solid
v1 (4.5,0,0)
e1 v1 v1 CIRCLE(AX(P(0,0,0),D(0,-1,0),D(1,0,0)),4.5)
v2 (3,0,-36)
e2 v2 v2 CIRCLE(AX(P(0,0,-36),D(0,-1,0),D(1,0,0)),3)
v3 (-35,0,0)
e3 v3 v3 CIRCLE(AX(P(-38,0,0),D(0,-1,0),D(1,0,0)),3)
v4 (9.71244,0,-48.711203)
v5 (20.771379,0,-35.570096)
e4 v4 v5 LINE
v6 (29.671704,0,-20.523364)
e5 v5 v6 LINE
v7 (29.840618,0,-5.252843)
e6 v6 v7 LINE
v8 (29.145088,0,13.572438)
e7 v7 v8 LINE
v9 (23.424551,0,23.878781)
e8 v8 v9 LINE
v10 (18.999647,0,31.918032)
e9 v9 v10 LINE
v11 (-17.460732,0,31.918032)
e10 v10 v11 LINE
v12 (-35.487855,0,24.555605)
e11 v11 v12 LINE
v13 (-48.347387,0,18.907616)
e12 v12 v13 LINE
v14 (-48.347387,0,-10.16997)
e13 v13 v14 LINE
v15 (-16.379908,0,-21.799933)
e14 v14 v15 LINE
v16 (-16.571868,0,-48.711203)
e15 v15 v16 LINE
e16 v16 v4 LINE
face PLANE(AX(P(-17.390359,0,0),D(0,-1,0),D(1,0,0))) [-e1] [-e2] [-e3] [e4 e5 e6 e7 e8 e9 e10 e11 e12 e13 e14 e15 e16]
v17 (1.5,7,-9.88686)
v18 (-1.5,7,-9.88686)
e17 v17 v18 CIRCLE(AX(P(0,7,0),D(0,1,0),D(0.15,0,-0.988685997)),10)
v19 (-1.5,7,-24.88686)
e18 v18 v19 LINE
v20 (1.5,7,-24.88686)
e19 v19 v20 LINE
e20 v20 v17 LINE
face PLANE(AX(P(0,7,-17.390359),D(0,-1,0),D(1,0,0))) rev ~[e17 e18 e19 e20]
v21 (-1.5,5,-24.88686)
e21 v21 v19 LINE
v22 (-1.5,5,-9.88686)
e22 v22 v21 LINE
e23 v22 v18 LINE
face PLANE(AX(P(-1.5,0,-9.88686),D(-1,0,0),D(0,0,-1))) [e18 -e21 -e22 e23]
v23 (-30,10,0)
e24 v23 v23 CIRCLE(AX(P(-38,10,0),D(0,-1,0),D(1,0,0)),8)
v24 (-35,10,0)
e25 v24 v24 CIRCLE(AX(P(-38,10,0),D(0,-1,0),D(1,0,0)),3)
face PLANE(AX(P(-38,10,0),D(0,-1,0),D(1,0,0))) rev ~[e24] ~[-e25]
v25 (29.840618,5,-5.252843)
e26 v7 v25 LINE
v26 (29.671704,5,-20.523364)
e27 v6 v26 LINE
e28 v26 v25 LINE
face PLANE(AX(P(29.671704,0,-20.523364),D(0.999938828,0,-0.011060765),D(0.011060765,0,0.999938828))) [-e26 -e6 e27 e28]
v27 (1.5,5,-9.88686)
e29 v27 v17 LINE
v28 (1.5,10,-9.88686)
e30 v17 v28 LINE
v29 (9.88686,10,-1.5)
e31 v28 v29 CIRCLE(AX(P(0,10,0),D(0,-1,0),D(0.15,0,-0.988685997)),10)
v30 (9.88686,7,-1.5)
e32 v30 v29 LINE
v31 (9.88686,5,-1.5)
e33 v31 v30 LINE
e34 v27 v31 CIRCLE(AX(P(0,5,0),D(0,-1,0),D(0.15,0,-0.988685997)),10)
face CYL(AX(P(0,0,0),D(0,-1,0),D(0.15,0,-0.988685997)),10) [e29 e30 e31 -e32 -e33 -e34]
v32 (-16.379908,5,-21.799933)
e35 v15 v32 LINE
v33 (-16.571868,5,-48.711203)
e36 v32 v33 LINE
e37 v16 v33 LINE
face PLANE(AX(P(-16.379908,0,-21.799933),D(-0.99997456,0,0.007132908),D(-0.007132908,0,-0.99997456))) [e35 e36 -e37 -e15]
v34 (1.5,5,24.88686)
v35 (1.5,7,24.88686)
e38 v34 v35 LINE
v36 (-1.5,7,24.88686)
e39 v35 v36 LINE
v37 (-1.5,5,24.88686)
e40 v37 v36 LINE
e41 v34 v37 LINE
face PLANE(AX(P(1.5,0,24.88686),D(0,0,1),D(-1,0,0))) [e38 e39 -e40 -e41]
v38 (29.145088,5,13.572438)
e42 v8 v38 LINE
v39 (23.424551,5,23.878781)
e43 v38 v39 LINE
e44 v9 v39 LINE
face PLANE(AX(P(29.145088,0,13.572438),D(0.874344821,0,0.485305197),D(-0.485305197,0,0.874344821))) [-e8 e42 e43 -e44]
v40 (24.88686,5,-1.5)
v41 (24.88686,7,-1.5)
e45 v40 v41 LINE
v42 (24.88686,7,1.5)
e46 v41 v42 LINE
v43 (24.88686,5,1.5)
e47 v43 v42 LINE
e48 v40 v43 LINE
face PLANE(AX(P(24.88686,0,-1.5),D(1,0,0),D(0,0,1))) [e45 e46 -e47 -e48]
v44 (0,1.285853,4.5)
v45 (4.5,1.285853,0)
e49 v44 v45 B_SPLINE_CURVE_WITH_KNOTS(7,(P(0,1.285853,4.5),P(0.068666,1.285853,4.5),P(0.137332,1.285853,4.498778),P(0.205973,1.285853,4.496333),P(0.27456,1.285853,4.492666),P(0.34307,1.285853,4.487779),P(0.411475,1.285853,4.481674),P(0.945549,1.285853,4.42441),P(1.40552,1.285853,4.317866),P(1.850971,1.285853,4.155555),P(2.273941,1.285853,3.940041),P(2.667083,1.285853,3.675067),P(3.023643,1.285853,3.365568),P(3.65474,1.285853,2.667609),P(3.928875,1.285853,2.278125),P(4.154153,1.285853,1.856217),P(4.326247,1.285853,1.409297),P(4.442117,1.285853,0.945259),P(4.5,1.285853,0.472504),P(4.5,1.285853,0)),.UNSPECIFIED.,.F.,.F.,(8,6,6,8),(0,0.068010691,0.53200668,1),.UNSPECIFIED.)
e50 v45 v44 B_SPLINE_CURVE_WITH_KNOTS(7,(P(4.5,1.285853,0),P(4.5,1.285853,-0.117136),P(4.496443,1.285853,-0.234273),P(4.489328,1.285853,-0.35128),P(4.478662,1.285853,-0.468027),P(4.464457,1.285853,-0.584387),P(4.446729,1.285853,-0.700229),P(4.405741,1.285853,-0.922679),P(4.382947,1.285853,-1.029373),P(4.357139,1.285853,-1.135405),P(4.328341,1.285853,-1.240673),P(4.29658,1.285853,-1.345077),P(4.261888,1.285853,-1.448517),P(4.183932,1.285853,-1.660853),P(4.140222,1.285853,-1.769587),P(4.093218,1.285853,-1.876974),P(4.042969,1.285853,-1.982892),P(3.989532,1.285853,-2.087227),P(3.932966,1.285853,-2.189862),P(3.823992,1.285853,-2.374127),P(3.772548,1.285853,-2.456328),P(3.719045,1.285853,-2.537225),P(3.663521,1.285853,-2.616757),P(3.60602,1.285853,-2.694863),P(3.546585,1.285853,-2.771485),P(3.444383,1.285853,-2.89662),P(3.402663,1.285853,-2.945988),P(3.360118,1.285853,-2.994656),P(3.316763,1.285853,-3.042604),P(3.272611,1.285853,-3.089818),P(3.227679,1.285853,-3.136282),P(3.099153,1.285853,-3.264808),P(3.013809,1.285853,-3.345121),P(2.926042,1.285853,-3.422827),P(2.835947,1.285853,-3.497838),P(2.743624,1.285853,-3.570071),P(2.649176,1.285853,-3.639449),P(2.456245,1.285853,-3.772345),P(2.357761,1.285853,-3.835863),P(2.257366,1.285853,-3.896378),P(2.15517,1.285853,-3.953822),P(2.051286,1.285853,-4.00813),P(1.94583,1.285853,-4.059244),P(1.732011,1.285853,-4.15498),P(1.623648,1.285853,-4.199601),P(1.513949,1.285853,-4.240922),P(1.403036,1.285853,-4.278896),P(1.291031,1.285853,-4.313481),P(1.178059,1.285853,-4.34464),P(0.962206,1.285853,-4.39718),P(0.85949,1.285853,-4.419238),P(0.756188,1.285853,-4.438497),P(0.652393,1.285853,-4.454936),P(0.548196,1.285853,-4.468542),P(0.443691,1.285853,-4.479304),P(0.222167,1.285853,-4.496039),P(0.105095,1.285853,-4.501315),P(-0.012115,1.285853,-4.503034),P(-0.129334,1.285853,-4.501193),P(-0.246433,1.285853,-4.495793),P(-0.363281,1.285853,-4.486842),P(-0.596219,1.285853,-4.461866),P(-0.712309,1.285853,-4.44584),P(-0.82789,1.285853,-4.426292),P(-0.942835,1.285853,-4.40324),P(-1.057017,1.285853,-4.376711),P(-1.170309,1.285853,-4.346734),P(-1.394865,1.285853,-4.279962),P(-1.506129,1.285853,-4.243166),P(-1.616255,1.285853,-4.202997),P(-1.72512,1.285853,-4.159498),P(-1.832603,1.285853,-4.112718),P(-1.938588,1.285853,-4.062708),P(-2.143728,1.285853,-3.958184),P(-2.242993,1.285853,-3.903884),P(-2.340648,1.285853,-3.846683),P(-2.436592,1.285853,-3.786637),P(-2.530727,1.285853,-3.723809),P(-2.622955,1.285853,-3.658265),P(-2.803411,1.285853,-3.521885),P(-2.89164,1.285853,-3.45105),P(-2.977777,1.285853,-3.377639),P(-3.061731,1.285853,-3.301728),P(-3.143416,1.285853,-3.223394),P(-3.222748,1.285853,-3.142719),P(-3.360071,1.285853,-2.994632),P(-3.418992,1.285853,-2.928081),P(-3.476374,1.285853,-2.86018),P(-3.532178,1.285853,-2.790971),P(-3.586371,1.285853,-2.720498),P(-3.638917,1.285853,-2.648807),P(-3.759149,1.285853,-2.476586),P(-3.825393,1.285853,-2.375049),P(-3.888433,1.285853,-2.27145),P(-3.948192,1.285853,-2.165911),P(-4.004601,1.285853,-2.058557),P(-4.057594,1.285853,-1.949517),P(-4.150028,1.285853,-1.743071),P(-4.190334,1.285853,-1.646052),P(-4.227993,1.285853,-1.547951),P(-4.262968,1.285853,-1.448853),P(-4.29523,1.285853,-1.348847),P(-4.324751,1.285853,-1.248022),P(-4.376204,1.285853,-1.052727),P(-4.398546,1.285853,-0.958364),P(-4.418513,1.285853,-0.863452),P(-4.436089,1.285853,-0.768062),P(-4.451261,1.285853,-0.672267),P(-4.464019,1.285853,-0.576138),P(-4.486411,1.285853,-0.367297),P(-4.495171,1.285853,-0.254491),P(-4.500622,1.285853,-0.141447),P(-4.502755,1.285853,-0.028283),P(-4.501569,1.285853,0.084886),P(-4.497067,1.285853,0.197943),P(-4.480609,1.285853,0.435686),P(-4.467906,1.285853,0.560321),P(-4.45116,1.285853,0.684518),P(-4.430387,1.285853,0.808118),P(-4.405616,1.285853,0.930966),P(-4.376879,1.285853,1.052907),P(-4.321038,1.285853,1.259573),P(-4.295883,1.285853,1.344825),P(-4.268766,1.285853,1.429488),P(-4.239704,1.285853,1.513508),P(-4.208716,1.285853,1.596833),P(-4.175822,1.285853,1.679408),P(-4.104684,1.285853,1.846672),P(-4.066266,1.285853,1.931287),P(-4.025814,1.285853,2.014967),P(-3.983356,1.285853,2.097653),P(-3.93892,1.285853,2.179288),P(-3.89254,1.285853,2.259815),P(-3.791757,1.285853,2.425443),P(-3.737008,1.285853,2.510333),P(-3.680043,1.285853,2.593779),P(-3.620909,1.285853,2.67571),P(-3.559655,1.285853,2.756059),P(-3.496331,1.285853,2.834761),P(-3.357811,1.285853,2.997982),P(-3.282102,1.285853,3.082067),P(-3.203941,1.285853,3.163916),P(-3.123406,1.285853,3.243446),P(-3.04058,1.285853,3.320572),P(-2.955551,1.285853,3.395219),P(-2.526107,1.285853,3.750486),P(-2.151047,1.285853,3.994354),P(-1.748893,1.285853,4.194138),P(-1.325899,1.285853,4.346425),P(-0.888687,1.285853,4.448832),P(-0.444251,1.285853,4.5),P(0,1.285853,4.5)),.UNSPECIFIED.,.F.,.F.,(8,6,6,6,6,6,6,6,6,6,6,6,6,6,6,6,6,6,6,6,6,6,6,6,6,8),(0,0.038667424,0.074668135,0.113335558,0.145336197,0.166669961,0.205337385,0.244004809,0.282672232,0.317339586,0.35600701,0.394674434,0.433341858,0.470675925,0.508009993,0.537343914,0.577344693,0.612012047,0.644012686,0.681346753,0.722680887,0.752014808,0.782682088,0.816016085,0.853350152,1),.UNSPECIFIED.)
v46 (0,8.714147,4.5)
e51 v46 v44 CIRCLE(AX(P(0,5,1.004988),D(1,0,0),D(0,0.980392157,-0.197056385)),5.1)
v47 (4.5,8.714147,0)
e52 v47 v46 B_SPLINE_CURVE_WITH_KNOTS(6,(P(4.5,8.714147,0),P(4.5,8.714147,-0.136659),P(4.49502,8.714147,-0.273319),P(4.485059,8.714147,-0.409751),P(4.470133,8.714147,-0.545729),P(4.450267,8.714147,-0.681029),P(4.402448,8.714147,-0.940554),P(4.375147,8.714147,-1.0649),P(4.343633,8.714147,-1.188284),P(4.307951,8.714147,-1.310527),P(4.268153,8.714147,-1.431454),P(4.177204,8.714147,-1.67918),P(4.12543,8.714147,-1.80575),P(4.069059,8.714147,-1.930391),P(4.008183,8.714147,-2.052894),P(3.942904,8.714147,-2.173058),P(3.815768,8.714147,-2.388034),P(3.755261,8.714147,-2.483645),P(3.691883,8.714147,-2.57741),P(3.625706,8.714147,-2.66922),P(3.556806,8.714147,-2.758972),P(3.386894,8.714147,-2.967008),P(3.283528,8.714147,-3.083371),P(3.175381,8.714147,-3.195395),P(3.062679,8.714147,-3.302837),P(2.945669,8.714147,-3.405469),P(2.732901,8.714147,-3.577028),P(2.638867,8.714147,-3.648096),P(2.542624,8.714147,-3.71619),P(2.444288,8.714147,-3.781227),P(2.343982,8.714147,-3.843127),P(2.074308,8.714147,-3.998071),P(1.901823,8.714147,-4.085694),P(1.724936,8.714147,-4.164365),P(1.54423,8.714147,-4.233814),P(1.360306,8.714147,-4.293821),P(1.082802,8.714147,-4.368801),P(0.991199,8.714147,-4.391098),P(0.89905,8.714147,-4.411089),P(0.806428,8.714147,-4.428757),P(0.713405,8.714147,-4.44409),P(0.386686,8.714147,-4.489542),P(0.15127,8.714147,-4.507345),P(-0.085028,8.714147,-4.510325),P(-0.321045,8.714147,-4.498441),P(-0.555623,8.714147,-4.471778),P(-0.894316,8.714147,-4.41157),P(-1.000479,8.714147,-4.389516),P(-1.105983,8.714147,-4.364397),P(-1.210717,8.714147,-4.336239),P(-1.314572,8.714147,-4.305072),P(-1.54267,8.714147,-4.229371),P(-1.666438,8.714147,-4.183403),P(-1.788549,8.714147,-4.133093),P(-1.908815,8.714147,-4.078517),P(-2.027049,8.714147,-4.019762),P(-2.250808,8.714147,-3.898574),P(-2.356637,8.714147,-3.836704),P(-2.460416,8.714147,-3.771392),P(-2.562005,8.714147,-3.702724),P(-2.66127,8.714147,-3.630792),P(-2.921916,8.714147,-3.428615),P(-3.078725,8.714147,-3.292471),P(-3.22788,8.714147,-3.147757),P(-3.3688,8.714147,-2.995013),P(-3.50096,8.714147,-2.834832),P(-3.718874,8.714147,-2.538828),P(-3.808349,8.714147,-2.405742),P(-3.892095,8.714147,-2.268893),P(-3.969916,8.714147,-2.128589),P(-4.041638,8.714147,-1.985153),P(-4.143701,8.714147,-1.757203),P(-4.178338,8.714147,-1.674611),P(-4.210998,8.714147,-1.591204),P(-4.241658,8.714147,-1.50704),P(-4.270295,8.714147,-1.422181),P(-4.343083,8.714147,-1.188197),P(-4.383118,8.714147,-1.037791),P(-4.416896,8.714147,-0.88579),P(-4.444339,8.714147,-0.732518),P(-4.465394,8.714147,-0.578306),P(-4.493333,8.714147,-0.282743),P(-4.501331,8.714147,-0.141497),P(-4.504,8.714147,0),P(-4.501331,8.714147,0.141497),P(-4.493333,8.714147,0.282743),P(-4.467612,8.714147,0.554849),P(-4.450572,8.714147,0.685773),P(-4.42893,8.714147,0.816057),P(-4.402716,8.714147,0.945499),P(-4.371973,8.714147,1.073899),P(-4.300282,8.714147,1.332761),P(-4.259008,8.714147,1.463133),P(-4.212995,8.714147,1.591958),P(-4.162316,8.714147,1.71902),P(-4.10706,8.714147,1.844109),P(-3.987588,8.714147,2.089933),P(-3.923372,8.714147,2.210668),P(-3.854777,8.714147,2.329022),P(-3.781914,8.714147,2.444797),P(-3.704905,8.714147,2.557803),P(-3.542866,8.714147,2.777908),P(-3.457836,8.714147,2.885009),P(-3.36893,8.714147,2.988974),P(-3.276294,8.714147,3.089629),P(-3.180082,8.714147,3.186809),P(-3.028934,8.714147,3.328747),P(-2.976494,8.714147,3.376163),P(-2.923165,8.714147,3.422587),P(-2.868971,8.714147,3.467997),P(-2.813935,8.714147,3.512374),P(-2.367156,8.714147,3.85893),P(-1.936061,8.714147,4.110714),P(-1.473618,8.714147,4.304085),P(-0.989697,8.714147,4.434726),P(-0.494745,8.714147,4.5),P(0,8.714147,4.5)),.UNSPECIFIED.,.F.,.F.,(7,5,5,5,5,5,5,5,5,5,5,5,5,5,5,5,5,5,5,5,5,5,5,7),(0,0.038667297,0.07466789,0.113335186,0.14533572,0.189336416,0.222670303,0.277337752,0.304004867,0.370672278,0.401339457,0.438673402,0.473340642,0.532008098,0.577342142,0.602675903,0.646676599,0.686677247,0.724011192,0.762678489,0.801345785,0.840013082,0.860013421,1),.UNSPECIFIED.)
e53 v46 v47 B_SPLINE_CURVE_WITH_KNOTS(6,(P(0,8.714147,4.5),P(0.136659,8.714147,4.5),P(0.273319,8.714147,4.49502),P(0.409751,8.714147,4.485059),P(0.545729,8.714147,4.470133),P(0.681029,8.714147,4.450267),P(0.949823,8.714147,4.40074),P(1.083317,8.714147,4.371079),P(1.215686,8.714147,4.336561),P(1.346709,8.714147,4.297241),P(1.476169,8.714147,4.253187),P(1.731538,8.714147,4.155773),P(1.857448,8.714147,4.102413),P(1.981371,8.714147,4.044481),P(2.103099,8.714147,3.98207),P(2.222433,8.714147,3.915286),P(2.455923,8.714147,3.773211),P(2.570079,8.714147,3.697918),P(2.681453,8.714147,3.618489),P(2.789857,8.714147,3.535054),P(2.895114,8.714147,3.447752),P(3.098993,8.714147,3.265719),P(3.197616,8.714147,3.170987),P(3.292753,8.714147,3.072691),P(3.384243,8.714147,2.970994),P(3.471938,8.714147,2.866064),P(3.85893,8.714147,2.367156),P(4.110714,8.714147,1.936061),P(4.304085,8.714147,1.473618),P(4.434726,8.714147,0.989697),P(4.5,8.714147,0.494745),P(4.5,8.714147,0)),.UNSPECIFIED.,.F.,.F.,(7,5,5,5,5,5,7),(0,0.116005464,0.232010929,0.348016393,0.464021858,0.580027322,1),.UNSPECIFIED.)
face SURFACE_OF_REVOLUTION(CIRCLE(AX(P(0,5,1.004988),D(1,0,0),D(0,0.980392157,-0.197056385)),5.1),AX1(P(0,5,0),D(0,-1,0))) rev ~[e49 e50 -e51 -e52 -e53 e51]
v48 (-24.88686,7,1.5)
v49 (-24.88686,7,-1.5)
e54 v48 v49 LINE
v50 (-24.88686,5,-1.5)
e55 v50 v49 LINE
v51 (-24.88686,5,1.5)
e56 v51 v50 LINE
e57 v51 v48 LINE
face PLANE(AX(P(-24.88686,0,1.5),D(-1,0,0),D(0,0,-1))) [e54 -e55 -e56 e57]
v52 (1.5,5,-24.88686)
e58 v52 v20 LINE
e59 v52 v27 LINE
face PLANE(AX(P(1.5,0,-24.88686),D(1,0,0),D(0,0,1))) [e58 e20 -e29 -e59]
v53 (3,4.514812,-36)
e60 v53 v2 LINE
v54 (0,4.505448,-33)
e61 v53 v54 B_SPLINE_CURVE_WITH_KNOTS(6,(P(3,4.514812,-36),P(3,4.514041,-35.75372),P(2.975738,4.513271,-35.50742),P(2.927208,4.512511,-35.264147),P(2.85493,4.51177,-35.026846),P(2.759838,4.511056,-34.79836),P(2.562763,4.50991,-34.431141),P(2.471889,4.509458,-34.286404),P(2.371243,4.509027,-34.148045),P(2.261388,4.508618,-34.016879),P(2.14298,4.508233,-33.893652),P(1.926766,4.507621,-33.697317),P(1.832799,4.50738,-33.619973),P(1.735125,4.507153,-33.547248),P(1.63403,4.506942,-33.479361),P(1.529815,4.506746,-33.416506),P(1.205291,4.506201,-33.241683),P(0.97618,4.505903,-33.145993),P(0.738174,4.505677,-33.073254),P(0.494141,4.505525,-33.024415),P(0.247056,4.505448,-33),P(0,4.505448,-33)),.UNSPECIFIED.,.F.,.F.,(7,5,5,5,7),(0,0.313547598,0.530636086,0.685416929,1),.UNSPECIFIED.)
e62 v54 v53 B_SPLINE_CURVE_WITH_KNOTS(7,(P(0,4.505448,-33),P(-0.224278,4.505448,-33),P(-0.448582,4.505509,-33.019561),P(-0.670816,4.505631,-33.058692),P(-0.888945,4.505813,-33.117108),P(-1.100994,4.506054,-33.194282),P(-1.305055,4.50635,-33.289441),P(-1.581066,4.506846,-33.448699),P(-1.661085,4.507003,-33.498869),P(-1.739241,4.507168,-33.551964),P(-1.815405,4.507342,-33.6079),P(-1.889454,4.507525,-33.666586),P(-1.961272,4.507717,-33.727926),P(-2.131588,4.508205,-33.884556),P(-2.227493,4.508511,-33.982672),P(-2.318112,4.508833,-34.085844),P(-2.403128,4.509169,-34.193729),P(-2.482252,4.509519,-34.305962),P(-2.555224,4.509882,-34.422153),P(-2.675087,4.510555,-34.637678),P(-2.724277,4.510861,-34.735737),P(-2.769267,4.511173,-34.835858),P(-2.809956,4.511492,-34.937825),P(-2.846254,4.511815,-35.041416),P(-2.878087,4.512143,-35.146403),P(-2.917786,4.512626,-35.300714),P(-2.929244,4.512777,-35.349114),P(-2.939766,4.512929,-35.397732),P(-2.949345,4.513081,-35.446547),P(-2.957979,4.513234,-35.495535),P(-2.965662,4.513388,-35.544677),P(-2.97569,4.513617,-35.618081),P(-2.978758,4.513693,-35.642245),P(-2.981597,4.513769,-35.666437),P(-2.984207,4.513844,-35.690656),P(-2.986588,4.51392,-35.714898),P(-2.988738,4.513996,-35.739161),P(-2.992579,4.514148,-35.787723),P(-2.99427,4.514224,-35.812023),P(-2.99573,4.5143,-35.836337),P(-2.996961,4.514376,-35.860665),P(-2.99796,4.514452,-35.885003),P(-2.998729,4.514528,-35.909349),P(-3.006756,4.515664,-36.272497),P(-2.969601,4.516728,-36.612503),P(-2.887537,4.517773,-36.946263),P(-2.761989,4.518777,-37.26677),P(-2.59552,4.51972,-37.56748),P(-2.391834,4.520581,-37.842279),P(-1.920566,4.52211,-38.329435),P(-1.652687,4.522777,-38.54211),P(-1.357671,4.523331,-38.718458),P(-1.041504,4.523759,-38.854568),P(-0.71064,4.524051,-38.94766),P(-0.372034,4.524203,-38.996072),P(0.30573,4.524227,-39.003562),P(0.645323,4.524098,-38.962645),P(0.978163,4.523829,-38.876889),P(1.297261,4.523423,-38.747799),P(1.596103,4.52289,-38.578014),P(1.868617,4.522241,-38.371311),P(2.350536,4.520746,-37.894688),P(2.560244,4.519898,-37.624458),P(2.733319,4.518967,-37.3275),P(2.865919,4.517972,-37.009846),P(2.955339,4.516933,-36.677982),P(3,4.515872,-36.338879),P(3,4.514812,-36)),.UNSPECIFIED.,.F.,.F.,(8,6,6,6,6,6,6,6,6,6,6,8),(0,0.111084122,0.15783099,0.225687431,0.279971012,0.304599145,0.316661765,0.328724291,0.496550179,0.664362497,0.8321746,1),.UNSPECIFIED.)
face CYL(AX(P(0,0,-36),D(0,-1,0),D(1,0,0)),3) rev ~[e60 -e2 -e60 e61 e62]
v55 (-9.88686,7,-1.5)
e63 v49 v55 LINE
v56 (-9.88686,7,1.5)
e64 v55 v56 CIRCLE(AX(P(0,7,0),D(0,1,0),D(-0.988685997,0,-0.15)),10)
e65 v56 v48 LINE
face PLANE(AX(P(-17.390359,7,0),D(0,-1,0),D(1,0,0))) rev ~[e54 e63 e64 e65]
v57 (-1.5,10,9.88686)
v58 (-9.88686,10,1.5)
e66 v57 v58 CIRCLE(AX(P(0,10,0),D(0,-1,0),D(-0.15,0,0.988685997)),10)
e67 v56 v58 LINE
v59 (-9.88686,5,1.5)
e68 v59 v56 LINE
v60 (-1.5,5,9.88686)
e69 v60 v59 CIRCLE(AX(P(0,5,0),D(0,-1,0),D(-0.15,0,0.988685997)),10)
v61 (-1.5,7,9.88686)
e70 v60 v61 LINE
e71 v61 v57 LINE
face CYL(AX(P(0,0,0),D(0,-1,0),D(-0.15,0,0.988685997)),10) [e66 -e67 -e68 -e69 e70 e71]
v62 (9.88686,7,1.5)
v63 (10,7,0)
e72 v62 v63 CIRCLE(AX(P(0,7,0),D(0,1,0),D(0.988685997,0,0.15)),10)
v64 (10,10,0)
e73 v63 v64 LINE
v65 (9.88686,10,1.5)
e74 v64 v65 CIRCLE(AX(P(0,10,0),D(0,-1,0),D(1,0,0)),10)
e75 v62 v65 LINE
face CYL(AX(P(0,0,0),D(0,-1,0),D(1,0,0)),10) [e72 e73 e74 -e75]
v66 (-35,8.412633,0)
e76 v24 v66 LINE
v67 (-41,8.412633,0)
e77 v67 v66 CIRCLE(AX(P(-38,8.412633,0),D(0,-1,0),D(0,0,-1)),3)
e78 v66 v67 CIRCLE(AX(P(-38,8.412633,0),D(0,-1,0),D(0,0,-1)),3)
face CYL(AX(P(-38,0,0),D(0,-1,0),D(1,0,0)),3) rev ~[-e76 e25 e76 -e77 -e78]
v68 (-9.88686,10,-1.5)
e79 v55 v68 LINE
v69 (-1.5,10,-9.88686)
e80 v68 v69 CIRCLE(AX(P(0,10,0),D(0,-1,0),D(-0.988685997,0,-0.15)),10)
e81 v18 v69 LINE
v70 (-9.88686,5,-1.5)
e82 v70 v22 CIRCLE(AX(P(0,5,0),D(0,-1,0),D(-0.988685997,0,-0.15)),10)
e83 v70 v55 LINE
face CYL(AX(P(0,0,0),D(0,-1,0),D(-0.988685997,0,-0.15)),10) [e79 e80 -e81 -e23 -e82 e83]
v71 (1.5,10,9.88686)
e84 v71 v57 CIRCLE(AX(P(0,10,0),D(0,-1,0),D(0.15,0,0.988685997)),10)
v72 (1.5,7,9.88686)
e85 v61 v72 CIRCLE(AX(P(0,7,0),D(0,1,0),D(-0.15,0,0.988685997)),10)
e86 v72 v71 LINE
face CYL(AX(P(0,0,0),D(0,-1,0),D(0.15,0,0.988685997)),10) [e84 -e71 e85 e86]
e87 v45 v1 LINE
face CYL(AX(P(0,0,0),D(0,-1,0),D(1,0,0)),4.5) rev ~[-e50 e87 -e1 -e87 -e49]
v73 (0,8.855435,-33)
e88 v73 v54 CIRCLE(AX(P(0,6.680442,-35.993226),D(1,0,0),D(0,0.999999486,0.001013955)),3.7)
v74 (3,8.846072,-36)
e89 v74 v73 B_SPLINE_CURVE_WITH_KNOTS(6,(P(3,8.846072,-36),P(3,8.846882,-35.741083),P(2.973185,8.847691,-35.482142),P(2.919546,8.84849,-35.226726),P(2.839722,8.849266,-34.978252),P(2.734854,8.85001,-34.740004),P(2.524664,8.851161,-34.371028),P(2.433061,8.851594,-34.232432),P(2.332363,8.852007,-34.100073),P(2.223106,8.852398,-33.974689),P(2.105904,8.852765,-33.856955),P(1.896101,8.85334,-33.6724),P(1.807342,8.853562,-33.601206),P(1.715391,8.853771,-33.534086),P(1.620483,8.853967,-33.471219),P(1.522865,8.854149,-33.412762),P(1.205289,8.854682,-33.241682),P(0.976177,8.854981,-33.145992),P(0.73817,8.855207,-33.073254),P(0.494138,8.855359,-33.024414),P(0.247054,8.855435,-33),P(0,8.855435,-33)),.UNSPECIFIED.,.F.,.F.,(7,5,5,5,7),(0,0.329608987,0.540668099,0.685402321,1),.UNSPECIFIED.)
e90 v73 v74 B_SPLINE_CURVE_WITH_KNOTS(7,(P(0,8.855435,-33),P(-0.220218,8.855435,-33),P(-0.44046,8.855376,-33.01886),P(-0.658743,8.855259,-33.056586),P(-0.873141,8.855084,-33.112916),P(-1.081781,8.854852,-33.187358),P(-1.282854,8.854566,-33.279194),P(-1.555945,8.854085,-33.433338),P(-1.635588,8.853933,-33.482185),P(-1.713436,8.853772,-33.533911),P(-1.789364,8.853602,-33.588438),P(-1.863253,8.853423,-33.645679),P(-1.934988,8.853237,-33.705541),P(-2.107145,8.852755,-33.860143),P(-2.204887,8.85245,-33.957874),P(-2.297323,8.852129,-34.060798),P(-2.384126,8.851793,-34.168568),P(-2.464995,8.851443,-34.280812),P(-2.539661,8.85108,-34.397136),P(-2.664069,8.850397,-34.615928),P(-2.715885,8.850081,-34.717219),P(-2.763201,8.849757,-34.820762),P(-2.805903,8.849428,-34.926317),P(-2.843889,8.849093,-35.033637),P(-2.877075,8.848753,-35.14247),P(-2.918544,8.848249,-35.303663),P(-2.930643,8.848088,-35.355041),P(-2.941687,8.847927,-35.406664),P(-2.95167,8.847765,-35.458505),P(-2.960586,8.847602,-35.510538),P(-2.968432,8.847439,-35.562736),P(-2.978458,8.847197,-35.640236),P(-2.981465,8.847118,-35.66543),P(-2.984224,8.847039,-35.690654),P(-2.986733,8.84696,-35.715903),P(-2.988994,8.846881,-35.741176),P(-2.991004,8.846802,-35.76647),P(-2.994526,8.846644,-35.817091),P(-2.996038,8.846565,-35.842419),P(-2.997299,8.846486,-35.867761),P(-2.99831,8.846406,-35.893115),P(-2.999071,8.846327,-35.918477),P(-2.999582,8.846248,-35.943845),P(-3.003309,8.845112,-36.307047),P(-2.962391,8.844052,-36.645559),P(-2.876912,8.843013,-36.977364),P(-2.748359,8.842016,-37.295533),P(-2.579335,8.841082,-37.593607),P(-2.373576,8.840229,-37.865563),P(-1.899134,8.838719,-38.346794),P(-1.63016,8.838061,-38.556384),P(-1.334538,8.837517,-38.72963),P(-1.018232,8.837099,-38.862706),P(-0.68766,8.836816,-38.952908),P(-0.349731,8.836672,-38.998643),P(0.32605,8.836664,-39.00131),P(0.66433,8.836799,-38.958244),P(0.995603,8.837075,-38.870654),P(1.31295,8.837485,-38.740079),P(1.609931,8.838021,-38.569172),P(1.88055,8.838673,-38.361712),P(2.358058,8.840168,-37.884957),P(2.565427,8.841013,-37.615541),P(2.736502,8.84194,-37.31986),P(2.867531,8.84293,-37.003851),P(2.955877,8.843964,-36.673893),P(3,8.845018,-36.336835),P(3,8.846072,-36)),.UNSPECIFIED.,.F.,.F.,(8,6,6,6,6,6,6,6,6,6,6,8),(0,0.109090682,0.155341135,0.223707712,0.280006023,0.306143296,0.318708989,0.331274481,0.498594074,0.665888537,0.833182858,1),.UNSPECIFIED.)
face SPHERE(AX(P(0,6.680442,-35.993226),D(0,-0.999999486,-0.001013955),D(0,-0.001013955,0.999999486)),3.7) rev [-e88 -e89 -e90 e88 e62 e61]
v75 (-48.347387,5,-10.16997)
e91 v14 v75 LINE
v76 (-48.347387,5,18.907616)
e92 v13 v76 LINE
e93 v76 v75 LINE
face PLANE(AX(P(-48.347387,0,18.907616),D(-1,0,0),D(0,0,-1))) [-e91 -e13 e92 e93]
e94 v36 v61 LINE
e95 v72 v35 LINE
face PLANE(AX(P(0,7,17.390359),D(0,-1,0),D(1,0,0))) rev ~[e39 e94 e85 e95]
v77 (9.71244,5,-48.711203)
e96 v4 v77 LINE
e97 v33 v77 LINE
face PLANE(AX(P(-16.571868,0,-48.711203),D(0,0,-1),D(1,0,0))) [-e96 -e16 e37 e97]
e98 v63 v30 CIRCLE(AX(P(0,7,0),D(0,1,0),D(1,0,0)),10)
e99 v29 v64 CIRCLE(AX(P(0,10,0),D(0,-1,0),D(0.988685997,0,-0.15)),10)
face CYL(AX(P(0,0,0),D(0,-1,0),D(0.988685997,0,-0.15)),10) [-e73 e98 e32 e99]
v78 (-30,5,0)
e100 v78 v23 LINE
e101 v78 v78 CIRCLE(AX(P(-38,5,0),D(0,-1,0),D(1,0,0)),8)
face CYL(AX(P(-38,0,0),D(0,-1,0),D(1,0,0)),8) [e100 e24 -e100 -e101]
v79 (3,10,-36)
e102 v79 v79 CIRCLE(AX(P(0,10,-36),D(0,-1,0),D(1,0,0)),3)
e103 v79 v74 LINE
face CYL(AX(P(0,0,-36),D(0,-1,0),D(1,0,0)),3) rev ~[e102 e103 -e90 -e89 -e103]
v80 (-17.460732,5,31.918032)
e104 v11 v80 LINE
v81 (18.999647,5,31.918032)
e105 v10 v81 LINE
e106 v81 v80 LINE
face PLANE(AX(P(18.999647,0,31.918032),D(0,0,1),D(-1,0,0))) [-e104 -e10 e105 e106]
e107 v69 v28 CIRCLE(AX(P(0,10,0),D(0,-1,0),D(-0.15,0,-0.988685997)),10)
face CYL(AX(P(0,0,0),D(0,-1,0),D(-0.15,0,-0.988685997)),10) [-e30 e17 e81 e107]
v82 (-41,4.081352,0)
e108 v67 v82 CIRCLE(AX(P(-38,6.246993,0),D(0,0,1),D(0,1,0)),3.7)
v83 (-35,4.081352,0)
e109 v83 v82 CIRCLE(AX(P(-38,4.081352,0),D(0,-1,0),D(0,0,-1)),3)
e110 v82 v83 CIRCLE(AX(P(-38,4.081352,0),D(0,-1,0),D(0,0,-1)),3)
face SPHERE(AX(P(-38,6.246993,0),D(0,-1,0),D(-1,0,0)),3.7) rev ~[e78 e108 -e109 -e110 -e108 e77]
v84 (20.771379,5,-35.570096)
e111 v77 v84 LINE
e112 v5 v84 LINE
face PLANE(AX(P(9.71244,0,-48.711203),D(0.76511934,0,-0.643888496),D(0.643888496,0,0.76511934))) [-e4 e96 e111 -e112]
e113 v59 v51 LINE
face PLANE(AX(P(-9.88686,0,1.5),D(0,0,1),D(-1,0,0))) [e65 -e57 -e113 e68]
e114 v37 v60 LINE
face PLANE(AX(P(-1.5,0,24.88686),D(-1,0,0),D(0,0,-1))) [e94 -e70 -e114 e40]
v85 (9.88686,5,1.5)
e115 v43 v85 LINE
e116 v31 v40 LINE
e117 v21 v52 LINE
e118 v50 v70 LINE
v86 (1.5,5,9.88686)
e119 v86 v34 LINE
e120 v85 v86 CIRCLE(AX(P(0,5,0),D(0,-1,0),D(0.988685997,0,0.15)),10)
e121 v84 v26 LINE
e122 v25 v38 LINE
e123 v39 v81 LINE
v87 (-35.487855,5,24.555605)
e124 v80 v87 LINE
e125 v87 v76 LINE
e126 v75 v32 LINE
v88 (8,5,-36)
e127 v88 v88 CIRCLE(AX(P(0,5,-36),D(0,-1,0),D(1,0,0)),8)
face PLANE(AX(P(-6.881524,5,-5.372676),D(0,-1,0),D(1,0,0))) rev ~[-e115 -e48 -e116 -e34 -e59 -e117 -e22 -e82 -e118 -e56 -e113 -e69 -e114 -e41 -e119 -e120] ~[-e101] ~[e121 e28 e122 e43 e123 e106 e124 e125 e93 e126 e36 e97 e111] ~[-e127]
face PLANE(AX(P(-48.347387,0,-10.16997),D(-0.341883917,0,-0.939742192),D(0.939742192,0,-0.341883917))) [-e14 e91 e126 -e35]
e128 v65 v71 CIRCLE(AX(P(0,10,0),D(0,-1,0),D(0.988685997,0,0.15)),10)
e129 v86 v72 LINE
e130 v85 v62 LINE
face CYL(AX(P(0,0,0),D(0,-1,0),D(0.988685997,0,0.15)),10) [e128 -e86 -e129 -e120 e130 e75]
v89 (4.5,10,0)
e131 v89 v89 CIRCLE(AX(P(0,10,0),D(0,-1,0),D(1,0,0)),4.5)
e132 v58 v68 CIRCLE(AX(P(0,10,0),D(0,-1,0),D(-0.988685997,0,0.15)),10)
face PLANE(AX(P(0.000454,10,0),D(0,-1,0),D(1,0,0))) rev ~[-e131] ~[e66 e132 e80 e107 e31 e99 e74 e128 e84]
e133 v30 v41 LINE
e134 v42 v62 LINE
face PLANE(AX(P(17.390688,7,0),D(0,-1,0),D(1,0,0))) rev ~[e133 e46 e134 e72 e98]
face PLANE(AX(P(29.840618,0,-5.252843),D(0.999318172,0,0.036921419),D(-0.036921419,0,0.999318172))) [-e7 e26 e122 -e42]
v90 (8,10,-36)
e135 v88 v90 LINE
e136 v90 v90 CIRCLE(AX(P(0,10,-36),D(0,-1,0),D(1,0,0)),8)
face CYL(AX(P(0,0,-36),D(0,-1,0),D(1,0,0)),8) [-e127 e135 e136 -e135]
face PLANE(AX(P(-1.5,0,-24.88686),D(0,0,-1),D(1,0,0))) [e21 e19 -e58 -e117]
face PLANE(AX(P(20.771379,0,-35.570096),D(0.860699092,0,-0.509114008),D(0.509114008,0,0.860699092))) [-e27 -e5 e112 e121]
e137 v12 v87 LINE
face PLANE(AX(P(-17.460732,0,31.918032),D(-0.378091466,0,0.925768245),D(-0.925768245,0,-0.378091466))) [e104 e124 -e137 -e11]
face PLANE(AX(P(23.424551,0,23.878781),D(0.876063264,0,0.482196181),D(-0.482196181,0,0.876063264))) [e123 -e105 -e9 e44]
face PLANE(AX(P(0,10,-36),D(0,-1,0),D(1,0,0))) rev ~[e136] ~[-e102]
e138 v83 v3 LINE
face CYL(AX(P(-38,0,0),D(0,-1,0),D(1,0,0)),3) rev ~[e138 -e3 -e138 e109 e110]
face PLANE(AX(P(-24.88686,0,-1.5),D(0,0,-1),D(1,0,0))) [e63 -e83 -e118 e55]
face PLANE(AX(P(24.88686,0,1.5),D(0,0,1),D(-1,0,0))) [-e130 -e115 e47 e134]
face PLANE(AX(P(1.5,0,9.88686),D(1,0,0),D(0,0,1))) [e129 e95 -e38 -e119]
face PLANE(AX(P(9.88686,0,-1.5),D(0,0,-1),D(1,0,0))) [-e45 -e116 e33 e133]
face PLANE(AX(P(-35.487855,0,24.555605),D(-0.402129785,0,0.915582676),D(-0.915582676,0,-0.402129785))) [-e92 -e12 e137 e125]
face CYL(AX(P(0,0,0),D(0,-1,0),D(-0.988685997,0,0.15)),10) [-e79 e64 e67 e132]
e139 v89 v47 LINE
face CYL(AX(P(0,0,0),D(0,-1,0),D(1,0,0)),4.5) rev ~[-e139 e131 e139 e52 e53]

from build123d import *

# Parameters (mm, degrees)
F0_R     = 8
F0_R_2   = 4.5
F0_R_3   = 3
F1_DEPTH = 5
F2_DEPTH = 10
F3_DEPTH = 7


with BuildPart() as f1:
    # F0 (on Front) → F1 (new body)
    with BuildSketch(Plane.XZ):
        Polygon((18.9996465826, 31.9180320948), (-17.4607320469, 31.9180320948), (-35.4878548533, 24.5556049049), (-48.3473874629, 18.9076156824), (-48.3473874629, -10.1699698716), (-16.3799077272, -21.7999331653), (-16.571868211, -48.7112030387), (9.7124404529, -48.7112030387), (20.7713786513, -35.5700962245), (29.6717043966, -20.5233637244), (29.840618372, -5.252843257), (29.1450880468, 13.5724376887), (23.4245508909, 23.8787811249), align=None)
        with Locations((0, -36)):
            Circle(F0_R, mode=Mode.SUBTRACT)
        with Locations((-38, 0)):
            Circle(F0_R, mode=Mode.SUBTRACT)
        with BuildLine():
            ThreePointArc((1.5, 9.8868599666), (7.0710678119, 7.0710678119), (9.8868599666, 1.5))
            Line((9.8868599666, 1.5), (24.8868599666, 1.5))
            Line((24.8868599666, 1.5), (24.8868599666, 0))
            Line((24.8868599666, 0), (24.8868599666, -1.5))
            Line((24.8868599666, -1.5), (9.8868599666, -1.5))
            ThreePointArc((9.8868599666, -1.5), (7.0710678119, -7.0710678119), (1.5, -9.8868599666))
            Line((1.5, -9.8868599666), (1.5, -24.8868599666))
            Line((1.5, -24.8868599666), (0, -24.8868599666))
            Line((0, -24.8868599666), (-1.5, -24.8868599666))
            Line((-1.5, -24.8868599666), (-1.5, -9.8868599666))
            ThreePointArc((-1.5, -9.8868599666), (-7.0710678119, -7.0710678119), (-9.8868599666, -1.5))
            Line((-9.8868599666, -1.5), (-24.8868599666, -1.5))
            Line((-24.8868599666, -1.5), (-24.8868599666, 0))
            Line((-24.8868599666, 0), (-24.8868599666, 1.5))
            Line((-24.8868599666, 1.5), (-9.8868599666, 1.5))
            ThreePointArc((-9.8868599666, 1.5), (-7.0710678119, 7.0710678119), (-1.5, 9.8868599666))
            Line((-1.5, 9.8868599666), (-1.5, 24.8868599666))
            Line((-1.5, 24.8868599666), (0, 24.8868599666))
            Line((0, 24.8868599666), (1.5, 24.8868599666))
            Line((1.5, 24.8868599666), (1.5, 9.8868599666))
        make_face(mode=Mode.SUBTRACT)
        with BuildLine():
            ThreePointArc((9.8868599666, -1.5), (9.971674876, -0.7521304187), (10, 0))
            ThreePointArc((10, 0), (9.971674876, 0.7521304187), (9.8868599666, 1.5))
            ThreePointArc((9.8868599666, 1.5), (7.0710678119, 7.0710678119), (1.5, 9.8868599666))
            ThreePointArc((1.5, 9.8868599666), (0, 10), (-1.5, 9.8868599666))
            ThreePointArc((-1.5, 9.8868599666), (-7.0710678119, 7.0710678119), (-9.8868599666, 1.5))
            ThreePointArc((-9.8868599666, 1.5), (-10, 0), (-9.8868599666, -1.5))
            ThreePointArc((-9.8868599666, -1.5), (-7.0710678119, -7.0710678119), (-1.5, -9.8868599666))
            ThreePointArc((-1.5, -9.8868599666), (0, -10), (1.5, -9.8868599666))
            ThreePointArc((1.5, -9.8868599666), (7.0710678119, -7.0710678119), (9.8868599666, -1.5))
        make_face()
        Circle(F0_R_2, mode=Mode.SUBTRACT)
        with Locations((-38, 0)):
            Circle(F0_R)
        with Locations((-38, 0)):
            Circle(F0_R_3, mode=Mode.SUBTRACT)
        with Locations((0, -36)):
            Circle(F0_R)
        with Locations((0, -36)):
            Circle(F0_R_3, mode=Mode.SUBTRACT)
        with BuildLine():
            ThreePointArc((-9.8868599666, -1.5), (-10, 0), (-9.8868599666, 1.5))
            Line((-9.8868599666, 1.5), (-24.8868599666, 1.5))
            Line((-24.8868599666, 1.5), (-24.8868599666, 0))
            Line((-24.8868599666, 0), (-24.8868599666, -1.5))
            Line((-24.8868599666, -1.5), (-9.8868599666, -1.5))
        make_face()
        with BuildLine():
            ThreePointArc((-1.5, 9.8868599666), (0, 10), (1.5, 9.8868599666))
            Line((1.5, 9.8868599666), (1.5, 24.8868599666))
            Line((1.5, 24.8868599666), (0, 24.8868599666))
            Line((0, 24.8868599666), (-1.5, 24.8868599666))
            Line((-1.5, 24.8868599666), (-1.5, 9.8868599666))
        make_face()
        with BuildLine():
            ThreePointArc((9.8868599666, 1.5), (9.971674876, 0.7521304187), (10, 0))
            ThreePointArc((10, 0), (9.971674876, -0.7521304187), (9.8868599666, -1.5))
            Line((9.8868599666, -1.5), (24.8868599666, -1.5))
            Line((24.8868599666, -1.5), (24.8868599666, 0))
            Line((24.8868599666, 0), (24.8868599666, 1.5))
            Line((24.8868599666, 1.5), (9.8868599666, 1.5))
        make_face()
        with BuildLine():
            Line((1.5, -24.8868599666), (1.5, -9.8868599666))
            ThreePointArc((1.5, -9.8868599666), (0, -10), (-1.5, -9.8868599666))
            Line((-1.5, -9.8868599666), (-1.5, -24.8868599666))
            Line((-1.5, -24.8868599666), (0, -24.8868599666))
            Line((0, -24.8868599666), (1.5, -24.8868599666))
        make_face()
    extrude(amount=-F1_DEPTH)

    # F0 (on Front) → F2 (join)
    with BuildSketch(Plane.XZ):
        with BuildLine():
            ThreePointArc((9.8868599666, -1.5), (9.971674876, -0.7521304187), (10, 0))
            ThreePointArc((10, 0), (9.971674876, 0.7521304187), (9.8868599666, 1.5))
            ThreePointArc((9.8868599666, 1.5), (7.0710678119, 7.0710678119), (1.5, 9.8868599666))
            ThreePointArc((1.5, 9.8868599666), (0, 10), (-1.5, 9.8868599666))
            ThreePointArc((-1.5, 9.8868599666), (-7.0710678119, 7.0710678119), (-9.8868599666, 1.5))
            ThreePointArc((-9.8868599666, 1.5), (-10, 0), (-9.8868599666, -1.5))
            ThreePointArc((-9.8868599666, -1.5), (-7.0710678119, -7.0710678119), (-1.5, -9.8868599666))
            ThreePointArc((-1.5, -9.8868599666), (0, -10), (1.5, -9.8868599666))
            ThreePointArc((1.5, -9.8868599666), (7.0710678119, -7.0710678119), (9.8868599666, -1.5))
        make_face()
        Circle(F0_R_2, mode=Mode.SUBTRACT)
        with Locations((0, -36)):
            Circle(F0_R)
        with Locations((0, -36)):
            Circle(F0_R_3, mode=Mode.SUBTRACT)
        with Locations((-38, 0)):
            Circle(F0_R)
        with Locations((-38, 0)):
            Circle(F0_R_3, mode=Mode.SUBTRACT)
    extrude(amount=-F2_DEPTH)

    # F0 (on Front) → F3 (join)
    with BuildSketch(Plane.XZ):
        with BuildLine():
            ThreePointArc((-9.8868599666, -1.5), (-10, 0), (-9.8868599666, 1.5))
            Line((-9.8868599666, 1.5), (-24.8868599666, 1.5))
            Line((-24.8868599666, 1.5), (-24.8868599666, 0))
            Line((-24.8868599666, 0), (-24.8868599666, -1.5))
            Line((-24.8868599666, -1.5), (-9.8868599666, -1.5))
        make_face()
        with BuildLine():
            Line((1.5, -24.8868599666), (1.5, -9.8868599666))
            ThreePointArc((1.5, -9.8868599666), (0, -10), (-1.5, -9.8868599666))
            Line((-1.5, -9.8868599666), (-1.5, -24.8868599666))
            Line((-1.5, -24.8868599666), (0, -24.8868599666))
            Line((0, -24.8868599666), (1.5, -24.8868599666))
        make_face()
        with BuildLine():
            ThreePointArc((9.8868599666, 1.5), (9.971674876, 0.7521304187), (10, 0))
            ThreePointArc((10, 0), (9.971674876, -0.7521304187), (9.8868599666, -1.5))
            Line((9.8868599666, -1.5), (24.8868599666, -1.5))
            Line((24.8868599666, -1.5), (24.8868599666, 0))
            Line((24.8868599666, 0), (24.8868599666, 1.5))
            Line((24.8868599666, 1.5), (9.8868599666, 1.5))
        make_face()
        with BuildLine():
            ThreePointArc((-1.5, 9.8868599666), (0, 10), (1.5, 9.8868599666))
            Line((1.5, 9.8868599666), (1.5, 24.8868599666))
            Line((1.5, 24.8868599666), (0, 24.8868599666))
            Line((0, 24.8868599666), (-1.5, 24.8868599666))
            Line((-1.5, 24.8868599666), (-1.5, 9.8868599666))
        make_face()
    extrude(amount=-F3_DEPTH)

    # F5 (on Top) → F6 (revolve, cut)
    with BuildSketch(Plane.XY):
        with BuildLine():
            ThreePointArc((-38, 9.9469926208), (-41.7, 6.2469926208), (-38, 2.5469926208))
            Line((-38, 2.5469926208), (-38, 9.9469926208))
        make_face()
    revolve(axis=Axis((-38, 4.9734963104, 0), (0, -1, 0)), mode=Mode.SUBTRACT)

    # F4 (on Right) → F7 (revolve, cut)
    with BuildSketch(Plane.YZ):
        with BuildLine():
            Line((2.9804437381, -35.9969779618), (10.3804399341, -35.9894746928))
            ThreePointArc((10.3804399341, -35.9894746928), (6.6766902016, -32.2932282293), (2.9804437381, -35.9969779618))
        make_face()
    revolve(axis=Axis((0, 3.1299426986, -35.9968263765), (0, 0.9999994859, 0.0010139553)), mode=Mode.SUBTRACT)

    # F4 (on Right) → F8 (revolve, cut)
    with BuildSketch(Plane.YZ):
        with BuildLine():
            Line((0, 0), (10, 0))
            ThreePointArc((10, 0), (5, 6.1049875621), (0, 0))
        make_face()
    revolve(axis=Axis((0, 5, 0), (0, -1, 0)), mode=Mode.SUBTRACT)


solid = f1.part
